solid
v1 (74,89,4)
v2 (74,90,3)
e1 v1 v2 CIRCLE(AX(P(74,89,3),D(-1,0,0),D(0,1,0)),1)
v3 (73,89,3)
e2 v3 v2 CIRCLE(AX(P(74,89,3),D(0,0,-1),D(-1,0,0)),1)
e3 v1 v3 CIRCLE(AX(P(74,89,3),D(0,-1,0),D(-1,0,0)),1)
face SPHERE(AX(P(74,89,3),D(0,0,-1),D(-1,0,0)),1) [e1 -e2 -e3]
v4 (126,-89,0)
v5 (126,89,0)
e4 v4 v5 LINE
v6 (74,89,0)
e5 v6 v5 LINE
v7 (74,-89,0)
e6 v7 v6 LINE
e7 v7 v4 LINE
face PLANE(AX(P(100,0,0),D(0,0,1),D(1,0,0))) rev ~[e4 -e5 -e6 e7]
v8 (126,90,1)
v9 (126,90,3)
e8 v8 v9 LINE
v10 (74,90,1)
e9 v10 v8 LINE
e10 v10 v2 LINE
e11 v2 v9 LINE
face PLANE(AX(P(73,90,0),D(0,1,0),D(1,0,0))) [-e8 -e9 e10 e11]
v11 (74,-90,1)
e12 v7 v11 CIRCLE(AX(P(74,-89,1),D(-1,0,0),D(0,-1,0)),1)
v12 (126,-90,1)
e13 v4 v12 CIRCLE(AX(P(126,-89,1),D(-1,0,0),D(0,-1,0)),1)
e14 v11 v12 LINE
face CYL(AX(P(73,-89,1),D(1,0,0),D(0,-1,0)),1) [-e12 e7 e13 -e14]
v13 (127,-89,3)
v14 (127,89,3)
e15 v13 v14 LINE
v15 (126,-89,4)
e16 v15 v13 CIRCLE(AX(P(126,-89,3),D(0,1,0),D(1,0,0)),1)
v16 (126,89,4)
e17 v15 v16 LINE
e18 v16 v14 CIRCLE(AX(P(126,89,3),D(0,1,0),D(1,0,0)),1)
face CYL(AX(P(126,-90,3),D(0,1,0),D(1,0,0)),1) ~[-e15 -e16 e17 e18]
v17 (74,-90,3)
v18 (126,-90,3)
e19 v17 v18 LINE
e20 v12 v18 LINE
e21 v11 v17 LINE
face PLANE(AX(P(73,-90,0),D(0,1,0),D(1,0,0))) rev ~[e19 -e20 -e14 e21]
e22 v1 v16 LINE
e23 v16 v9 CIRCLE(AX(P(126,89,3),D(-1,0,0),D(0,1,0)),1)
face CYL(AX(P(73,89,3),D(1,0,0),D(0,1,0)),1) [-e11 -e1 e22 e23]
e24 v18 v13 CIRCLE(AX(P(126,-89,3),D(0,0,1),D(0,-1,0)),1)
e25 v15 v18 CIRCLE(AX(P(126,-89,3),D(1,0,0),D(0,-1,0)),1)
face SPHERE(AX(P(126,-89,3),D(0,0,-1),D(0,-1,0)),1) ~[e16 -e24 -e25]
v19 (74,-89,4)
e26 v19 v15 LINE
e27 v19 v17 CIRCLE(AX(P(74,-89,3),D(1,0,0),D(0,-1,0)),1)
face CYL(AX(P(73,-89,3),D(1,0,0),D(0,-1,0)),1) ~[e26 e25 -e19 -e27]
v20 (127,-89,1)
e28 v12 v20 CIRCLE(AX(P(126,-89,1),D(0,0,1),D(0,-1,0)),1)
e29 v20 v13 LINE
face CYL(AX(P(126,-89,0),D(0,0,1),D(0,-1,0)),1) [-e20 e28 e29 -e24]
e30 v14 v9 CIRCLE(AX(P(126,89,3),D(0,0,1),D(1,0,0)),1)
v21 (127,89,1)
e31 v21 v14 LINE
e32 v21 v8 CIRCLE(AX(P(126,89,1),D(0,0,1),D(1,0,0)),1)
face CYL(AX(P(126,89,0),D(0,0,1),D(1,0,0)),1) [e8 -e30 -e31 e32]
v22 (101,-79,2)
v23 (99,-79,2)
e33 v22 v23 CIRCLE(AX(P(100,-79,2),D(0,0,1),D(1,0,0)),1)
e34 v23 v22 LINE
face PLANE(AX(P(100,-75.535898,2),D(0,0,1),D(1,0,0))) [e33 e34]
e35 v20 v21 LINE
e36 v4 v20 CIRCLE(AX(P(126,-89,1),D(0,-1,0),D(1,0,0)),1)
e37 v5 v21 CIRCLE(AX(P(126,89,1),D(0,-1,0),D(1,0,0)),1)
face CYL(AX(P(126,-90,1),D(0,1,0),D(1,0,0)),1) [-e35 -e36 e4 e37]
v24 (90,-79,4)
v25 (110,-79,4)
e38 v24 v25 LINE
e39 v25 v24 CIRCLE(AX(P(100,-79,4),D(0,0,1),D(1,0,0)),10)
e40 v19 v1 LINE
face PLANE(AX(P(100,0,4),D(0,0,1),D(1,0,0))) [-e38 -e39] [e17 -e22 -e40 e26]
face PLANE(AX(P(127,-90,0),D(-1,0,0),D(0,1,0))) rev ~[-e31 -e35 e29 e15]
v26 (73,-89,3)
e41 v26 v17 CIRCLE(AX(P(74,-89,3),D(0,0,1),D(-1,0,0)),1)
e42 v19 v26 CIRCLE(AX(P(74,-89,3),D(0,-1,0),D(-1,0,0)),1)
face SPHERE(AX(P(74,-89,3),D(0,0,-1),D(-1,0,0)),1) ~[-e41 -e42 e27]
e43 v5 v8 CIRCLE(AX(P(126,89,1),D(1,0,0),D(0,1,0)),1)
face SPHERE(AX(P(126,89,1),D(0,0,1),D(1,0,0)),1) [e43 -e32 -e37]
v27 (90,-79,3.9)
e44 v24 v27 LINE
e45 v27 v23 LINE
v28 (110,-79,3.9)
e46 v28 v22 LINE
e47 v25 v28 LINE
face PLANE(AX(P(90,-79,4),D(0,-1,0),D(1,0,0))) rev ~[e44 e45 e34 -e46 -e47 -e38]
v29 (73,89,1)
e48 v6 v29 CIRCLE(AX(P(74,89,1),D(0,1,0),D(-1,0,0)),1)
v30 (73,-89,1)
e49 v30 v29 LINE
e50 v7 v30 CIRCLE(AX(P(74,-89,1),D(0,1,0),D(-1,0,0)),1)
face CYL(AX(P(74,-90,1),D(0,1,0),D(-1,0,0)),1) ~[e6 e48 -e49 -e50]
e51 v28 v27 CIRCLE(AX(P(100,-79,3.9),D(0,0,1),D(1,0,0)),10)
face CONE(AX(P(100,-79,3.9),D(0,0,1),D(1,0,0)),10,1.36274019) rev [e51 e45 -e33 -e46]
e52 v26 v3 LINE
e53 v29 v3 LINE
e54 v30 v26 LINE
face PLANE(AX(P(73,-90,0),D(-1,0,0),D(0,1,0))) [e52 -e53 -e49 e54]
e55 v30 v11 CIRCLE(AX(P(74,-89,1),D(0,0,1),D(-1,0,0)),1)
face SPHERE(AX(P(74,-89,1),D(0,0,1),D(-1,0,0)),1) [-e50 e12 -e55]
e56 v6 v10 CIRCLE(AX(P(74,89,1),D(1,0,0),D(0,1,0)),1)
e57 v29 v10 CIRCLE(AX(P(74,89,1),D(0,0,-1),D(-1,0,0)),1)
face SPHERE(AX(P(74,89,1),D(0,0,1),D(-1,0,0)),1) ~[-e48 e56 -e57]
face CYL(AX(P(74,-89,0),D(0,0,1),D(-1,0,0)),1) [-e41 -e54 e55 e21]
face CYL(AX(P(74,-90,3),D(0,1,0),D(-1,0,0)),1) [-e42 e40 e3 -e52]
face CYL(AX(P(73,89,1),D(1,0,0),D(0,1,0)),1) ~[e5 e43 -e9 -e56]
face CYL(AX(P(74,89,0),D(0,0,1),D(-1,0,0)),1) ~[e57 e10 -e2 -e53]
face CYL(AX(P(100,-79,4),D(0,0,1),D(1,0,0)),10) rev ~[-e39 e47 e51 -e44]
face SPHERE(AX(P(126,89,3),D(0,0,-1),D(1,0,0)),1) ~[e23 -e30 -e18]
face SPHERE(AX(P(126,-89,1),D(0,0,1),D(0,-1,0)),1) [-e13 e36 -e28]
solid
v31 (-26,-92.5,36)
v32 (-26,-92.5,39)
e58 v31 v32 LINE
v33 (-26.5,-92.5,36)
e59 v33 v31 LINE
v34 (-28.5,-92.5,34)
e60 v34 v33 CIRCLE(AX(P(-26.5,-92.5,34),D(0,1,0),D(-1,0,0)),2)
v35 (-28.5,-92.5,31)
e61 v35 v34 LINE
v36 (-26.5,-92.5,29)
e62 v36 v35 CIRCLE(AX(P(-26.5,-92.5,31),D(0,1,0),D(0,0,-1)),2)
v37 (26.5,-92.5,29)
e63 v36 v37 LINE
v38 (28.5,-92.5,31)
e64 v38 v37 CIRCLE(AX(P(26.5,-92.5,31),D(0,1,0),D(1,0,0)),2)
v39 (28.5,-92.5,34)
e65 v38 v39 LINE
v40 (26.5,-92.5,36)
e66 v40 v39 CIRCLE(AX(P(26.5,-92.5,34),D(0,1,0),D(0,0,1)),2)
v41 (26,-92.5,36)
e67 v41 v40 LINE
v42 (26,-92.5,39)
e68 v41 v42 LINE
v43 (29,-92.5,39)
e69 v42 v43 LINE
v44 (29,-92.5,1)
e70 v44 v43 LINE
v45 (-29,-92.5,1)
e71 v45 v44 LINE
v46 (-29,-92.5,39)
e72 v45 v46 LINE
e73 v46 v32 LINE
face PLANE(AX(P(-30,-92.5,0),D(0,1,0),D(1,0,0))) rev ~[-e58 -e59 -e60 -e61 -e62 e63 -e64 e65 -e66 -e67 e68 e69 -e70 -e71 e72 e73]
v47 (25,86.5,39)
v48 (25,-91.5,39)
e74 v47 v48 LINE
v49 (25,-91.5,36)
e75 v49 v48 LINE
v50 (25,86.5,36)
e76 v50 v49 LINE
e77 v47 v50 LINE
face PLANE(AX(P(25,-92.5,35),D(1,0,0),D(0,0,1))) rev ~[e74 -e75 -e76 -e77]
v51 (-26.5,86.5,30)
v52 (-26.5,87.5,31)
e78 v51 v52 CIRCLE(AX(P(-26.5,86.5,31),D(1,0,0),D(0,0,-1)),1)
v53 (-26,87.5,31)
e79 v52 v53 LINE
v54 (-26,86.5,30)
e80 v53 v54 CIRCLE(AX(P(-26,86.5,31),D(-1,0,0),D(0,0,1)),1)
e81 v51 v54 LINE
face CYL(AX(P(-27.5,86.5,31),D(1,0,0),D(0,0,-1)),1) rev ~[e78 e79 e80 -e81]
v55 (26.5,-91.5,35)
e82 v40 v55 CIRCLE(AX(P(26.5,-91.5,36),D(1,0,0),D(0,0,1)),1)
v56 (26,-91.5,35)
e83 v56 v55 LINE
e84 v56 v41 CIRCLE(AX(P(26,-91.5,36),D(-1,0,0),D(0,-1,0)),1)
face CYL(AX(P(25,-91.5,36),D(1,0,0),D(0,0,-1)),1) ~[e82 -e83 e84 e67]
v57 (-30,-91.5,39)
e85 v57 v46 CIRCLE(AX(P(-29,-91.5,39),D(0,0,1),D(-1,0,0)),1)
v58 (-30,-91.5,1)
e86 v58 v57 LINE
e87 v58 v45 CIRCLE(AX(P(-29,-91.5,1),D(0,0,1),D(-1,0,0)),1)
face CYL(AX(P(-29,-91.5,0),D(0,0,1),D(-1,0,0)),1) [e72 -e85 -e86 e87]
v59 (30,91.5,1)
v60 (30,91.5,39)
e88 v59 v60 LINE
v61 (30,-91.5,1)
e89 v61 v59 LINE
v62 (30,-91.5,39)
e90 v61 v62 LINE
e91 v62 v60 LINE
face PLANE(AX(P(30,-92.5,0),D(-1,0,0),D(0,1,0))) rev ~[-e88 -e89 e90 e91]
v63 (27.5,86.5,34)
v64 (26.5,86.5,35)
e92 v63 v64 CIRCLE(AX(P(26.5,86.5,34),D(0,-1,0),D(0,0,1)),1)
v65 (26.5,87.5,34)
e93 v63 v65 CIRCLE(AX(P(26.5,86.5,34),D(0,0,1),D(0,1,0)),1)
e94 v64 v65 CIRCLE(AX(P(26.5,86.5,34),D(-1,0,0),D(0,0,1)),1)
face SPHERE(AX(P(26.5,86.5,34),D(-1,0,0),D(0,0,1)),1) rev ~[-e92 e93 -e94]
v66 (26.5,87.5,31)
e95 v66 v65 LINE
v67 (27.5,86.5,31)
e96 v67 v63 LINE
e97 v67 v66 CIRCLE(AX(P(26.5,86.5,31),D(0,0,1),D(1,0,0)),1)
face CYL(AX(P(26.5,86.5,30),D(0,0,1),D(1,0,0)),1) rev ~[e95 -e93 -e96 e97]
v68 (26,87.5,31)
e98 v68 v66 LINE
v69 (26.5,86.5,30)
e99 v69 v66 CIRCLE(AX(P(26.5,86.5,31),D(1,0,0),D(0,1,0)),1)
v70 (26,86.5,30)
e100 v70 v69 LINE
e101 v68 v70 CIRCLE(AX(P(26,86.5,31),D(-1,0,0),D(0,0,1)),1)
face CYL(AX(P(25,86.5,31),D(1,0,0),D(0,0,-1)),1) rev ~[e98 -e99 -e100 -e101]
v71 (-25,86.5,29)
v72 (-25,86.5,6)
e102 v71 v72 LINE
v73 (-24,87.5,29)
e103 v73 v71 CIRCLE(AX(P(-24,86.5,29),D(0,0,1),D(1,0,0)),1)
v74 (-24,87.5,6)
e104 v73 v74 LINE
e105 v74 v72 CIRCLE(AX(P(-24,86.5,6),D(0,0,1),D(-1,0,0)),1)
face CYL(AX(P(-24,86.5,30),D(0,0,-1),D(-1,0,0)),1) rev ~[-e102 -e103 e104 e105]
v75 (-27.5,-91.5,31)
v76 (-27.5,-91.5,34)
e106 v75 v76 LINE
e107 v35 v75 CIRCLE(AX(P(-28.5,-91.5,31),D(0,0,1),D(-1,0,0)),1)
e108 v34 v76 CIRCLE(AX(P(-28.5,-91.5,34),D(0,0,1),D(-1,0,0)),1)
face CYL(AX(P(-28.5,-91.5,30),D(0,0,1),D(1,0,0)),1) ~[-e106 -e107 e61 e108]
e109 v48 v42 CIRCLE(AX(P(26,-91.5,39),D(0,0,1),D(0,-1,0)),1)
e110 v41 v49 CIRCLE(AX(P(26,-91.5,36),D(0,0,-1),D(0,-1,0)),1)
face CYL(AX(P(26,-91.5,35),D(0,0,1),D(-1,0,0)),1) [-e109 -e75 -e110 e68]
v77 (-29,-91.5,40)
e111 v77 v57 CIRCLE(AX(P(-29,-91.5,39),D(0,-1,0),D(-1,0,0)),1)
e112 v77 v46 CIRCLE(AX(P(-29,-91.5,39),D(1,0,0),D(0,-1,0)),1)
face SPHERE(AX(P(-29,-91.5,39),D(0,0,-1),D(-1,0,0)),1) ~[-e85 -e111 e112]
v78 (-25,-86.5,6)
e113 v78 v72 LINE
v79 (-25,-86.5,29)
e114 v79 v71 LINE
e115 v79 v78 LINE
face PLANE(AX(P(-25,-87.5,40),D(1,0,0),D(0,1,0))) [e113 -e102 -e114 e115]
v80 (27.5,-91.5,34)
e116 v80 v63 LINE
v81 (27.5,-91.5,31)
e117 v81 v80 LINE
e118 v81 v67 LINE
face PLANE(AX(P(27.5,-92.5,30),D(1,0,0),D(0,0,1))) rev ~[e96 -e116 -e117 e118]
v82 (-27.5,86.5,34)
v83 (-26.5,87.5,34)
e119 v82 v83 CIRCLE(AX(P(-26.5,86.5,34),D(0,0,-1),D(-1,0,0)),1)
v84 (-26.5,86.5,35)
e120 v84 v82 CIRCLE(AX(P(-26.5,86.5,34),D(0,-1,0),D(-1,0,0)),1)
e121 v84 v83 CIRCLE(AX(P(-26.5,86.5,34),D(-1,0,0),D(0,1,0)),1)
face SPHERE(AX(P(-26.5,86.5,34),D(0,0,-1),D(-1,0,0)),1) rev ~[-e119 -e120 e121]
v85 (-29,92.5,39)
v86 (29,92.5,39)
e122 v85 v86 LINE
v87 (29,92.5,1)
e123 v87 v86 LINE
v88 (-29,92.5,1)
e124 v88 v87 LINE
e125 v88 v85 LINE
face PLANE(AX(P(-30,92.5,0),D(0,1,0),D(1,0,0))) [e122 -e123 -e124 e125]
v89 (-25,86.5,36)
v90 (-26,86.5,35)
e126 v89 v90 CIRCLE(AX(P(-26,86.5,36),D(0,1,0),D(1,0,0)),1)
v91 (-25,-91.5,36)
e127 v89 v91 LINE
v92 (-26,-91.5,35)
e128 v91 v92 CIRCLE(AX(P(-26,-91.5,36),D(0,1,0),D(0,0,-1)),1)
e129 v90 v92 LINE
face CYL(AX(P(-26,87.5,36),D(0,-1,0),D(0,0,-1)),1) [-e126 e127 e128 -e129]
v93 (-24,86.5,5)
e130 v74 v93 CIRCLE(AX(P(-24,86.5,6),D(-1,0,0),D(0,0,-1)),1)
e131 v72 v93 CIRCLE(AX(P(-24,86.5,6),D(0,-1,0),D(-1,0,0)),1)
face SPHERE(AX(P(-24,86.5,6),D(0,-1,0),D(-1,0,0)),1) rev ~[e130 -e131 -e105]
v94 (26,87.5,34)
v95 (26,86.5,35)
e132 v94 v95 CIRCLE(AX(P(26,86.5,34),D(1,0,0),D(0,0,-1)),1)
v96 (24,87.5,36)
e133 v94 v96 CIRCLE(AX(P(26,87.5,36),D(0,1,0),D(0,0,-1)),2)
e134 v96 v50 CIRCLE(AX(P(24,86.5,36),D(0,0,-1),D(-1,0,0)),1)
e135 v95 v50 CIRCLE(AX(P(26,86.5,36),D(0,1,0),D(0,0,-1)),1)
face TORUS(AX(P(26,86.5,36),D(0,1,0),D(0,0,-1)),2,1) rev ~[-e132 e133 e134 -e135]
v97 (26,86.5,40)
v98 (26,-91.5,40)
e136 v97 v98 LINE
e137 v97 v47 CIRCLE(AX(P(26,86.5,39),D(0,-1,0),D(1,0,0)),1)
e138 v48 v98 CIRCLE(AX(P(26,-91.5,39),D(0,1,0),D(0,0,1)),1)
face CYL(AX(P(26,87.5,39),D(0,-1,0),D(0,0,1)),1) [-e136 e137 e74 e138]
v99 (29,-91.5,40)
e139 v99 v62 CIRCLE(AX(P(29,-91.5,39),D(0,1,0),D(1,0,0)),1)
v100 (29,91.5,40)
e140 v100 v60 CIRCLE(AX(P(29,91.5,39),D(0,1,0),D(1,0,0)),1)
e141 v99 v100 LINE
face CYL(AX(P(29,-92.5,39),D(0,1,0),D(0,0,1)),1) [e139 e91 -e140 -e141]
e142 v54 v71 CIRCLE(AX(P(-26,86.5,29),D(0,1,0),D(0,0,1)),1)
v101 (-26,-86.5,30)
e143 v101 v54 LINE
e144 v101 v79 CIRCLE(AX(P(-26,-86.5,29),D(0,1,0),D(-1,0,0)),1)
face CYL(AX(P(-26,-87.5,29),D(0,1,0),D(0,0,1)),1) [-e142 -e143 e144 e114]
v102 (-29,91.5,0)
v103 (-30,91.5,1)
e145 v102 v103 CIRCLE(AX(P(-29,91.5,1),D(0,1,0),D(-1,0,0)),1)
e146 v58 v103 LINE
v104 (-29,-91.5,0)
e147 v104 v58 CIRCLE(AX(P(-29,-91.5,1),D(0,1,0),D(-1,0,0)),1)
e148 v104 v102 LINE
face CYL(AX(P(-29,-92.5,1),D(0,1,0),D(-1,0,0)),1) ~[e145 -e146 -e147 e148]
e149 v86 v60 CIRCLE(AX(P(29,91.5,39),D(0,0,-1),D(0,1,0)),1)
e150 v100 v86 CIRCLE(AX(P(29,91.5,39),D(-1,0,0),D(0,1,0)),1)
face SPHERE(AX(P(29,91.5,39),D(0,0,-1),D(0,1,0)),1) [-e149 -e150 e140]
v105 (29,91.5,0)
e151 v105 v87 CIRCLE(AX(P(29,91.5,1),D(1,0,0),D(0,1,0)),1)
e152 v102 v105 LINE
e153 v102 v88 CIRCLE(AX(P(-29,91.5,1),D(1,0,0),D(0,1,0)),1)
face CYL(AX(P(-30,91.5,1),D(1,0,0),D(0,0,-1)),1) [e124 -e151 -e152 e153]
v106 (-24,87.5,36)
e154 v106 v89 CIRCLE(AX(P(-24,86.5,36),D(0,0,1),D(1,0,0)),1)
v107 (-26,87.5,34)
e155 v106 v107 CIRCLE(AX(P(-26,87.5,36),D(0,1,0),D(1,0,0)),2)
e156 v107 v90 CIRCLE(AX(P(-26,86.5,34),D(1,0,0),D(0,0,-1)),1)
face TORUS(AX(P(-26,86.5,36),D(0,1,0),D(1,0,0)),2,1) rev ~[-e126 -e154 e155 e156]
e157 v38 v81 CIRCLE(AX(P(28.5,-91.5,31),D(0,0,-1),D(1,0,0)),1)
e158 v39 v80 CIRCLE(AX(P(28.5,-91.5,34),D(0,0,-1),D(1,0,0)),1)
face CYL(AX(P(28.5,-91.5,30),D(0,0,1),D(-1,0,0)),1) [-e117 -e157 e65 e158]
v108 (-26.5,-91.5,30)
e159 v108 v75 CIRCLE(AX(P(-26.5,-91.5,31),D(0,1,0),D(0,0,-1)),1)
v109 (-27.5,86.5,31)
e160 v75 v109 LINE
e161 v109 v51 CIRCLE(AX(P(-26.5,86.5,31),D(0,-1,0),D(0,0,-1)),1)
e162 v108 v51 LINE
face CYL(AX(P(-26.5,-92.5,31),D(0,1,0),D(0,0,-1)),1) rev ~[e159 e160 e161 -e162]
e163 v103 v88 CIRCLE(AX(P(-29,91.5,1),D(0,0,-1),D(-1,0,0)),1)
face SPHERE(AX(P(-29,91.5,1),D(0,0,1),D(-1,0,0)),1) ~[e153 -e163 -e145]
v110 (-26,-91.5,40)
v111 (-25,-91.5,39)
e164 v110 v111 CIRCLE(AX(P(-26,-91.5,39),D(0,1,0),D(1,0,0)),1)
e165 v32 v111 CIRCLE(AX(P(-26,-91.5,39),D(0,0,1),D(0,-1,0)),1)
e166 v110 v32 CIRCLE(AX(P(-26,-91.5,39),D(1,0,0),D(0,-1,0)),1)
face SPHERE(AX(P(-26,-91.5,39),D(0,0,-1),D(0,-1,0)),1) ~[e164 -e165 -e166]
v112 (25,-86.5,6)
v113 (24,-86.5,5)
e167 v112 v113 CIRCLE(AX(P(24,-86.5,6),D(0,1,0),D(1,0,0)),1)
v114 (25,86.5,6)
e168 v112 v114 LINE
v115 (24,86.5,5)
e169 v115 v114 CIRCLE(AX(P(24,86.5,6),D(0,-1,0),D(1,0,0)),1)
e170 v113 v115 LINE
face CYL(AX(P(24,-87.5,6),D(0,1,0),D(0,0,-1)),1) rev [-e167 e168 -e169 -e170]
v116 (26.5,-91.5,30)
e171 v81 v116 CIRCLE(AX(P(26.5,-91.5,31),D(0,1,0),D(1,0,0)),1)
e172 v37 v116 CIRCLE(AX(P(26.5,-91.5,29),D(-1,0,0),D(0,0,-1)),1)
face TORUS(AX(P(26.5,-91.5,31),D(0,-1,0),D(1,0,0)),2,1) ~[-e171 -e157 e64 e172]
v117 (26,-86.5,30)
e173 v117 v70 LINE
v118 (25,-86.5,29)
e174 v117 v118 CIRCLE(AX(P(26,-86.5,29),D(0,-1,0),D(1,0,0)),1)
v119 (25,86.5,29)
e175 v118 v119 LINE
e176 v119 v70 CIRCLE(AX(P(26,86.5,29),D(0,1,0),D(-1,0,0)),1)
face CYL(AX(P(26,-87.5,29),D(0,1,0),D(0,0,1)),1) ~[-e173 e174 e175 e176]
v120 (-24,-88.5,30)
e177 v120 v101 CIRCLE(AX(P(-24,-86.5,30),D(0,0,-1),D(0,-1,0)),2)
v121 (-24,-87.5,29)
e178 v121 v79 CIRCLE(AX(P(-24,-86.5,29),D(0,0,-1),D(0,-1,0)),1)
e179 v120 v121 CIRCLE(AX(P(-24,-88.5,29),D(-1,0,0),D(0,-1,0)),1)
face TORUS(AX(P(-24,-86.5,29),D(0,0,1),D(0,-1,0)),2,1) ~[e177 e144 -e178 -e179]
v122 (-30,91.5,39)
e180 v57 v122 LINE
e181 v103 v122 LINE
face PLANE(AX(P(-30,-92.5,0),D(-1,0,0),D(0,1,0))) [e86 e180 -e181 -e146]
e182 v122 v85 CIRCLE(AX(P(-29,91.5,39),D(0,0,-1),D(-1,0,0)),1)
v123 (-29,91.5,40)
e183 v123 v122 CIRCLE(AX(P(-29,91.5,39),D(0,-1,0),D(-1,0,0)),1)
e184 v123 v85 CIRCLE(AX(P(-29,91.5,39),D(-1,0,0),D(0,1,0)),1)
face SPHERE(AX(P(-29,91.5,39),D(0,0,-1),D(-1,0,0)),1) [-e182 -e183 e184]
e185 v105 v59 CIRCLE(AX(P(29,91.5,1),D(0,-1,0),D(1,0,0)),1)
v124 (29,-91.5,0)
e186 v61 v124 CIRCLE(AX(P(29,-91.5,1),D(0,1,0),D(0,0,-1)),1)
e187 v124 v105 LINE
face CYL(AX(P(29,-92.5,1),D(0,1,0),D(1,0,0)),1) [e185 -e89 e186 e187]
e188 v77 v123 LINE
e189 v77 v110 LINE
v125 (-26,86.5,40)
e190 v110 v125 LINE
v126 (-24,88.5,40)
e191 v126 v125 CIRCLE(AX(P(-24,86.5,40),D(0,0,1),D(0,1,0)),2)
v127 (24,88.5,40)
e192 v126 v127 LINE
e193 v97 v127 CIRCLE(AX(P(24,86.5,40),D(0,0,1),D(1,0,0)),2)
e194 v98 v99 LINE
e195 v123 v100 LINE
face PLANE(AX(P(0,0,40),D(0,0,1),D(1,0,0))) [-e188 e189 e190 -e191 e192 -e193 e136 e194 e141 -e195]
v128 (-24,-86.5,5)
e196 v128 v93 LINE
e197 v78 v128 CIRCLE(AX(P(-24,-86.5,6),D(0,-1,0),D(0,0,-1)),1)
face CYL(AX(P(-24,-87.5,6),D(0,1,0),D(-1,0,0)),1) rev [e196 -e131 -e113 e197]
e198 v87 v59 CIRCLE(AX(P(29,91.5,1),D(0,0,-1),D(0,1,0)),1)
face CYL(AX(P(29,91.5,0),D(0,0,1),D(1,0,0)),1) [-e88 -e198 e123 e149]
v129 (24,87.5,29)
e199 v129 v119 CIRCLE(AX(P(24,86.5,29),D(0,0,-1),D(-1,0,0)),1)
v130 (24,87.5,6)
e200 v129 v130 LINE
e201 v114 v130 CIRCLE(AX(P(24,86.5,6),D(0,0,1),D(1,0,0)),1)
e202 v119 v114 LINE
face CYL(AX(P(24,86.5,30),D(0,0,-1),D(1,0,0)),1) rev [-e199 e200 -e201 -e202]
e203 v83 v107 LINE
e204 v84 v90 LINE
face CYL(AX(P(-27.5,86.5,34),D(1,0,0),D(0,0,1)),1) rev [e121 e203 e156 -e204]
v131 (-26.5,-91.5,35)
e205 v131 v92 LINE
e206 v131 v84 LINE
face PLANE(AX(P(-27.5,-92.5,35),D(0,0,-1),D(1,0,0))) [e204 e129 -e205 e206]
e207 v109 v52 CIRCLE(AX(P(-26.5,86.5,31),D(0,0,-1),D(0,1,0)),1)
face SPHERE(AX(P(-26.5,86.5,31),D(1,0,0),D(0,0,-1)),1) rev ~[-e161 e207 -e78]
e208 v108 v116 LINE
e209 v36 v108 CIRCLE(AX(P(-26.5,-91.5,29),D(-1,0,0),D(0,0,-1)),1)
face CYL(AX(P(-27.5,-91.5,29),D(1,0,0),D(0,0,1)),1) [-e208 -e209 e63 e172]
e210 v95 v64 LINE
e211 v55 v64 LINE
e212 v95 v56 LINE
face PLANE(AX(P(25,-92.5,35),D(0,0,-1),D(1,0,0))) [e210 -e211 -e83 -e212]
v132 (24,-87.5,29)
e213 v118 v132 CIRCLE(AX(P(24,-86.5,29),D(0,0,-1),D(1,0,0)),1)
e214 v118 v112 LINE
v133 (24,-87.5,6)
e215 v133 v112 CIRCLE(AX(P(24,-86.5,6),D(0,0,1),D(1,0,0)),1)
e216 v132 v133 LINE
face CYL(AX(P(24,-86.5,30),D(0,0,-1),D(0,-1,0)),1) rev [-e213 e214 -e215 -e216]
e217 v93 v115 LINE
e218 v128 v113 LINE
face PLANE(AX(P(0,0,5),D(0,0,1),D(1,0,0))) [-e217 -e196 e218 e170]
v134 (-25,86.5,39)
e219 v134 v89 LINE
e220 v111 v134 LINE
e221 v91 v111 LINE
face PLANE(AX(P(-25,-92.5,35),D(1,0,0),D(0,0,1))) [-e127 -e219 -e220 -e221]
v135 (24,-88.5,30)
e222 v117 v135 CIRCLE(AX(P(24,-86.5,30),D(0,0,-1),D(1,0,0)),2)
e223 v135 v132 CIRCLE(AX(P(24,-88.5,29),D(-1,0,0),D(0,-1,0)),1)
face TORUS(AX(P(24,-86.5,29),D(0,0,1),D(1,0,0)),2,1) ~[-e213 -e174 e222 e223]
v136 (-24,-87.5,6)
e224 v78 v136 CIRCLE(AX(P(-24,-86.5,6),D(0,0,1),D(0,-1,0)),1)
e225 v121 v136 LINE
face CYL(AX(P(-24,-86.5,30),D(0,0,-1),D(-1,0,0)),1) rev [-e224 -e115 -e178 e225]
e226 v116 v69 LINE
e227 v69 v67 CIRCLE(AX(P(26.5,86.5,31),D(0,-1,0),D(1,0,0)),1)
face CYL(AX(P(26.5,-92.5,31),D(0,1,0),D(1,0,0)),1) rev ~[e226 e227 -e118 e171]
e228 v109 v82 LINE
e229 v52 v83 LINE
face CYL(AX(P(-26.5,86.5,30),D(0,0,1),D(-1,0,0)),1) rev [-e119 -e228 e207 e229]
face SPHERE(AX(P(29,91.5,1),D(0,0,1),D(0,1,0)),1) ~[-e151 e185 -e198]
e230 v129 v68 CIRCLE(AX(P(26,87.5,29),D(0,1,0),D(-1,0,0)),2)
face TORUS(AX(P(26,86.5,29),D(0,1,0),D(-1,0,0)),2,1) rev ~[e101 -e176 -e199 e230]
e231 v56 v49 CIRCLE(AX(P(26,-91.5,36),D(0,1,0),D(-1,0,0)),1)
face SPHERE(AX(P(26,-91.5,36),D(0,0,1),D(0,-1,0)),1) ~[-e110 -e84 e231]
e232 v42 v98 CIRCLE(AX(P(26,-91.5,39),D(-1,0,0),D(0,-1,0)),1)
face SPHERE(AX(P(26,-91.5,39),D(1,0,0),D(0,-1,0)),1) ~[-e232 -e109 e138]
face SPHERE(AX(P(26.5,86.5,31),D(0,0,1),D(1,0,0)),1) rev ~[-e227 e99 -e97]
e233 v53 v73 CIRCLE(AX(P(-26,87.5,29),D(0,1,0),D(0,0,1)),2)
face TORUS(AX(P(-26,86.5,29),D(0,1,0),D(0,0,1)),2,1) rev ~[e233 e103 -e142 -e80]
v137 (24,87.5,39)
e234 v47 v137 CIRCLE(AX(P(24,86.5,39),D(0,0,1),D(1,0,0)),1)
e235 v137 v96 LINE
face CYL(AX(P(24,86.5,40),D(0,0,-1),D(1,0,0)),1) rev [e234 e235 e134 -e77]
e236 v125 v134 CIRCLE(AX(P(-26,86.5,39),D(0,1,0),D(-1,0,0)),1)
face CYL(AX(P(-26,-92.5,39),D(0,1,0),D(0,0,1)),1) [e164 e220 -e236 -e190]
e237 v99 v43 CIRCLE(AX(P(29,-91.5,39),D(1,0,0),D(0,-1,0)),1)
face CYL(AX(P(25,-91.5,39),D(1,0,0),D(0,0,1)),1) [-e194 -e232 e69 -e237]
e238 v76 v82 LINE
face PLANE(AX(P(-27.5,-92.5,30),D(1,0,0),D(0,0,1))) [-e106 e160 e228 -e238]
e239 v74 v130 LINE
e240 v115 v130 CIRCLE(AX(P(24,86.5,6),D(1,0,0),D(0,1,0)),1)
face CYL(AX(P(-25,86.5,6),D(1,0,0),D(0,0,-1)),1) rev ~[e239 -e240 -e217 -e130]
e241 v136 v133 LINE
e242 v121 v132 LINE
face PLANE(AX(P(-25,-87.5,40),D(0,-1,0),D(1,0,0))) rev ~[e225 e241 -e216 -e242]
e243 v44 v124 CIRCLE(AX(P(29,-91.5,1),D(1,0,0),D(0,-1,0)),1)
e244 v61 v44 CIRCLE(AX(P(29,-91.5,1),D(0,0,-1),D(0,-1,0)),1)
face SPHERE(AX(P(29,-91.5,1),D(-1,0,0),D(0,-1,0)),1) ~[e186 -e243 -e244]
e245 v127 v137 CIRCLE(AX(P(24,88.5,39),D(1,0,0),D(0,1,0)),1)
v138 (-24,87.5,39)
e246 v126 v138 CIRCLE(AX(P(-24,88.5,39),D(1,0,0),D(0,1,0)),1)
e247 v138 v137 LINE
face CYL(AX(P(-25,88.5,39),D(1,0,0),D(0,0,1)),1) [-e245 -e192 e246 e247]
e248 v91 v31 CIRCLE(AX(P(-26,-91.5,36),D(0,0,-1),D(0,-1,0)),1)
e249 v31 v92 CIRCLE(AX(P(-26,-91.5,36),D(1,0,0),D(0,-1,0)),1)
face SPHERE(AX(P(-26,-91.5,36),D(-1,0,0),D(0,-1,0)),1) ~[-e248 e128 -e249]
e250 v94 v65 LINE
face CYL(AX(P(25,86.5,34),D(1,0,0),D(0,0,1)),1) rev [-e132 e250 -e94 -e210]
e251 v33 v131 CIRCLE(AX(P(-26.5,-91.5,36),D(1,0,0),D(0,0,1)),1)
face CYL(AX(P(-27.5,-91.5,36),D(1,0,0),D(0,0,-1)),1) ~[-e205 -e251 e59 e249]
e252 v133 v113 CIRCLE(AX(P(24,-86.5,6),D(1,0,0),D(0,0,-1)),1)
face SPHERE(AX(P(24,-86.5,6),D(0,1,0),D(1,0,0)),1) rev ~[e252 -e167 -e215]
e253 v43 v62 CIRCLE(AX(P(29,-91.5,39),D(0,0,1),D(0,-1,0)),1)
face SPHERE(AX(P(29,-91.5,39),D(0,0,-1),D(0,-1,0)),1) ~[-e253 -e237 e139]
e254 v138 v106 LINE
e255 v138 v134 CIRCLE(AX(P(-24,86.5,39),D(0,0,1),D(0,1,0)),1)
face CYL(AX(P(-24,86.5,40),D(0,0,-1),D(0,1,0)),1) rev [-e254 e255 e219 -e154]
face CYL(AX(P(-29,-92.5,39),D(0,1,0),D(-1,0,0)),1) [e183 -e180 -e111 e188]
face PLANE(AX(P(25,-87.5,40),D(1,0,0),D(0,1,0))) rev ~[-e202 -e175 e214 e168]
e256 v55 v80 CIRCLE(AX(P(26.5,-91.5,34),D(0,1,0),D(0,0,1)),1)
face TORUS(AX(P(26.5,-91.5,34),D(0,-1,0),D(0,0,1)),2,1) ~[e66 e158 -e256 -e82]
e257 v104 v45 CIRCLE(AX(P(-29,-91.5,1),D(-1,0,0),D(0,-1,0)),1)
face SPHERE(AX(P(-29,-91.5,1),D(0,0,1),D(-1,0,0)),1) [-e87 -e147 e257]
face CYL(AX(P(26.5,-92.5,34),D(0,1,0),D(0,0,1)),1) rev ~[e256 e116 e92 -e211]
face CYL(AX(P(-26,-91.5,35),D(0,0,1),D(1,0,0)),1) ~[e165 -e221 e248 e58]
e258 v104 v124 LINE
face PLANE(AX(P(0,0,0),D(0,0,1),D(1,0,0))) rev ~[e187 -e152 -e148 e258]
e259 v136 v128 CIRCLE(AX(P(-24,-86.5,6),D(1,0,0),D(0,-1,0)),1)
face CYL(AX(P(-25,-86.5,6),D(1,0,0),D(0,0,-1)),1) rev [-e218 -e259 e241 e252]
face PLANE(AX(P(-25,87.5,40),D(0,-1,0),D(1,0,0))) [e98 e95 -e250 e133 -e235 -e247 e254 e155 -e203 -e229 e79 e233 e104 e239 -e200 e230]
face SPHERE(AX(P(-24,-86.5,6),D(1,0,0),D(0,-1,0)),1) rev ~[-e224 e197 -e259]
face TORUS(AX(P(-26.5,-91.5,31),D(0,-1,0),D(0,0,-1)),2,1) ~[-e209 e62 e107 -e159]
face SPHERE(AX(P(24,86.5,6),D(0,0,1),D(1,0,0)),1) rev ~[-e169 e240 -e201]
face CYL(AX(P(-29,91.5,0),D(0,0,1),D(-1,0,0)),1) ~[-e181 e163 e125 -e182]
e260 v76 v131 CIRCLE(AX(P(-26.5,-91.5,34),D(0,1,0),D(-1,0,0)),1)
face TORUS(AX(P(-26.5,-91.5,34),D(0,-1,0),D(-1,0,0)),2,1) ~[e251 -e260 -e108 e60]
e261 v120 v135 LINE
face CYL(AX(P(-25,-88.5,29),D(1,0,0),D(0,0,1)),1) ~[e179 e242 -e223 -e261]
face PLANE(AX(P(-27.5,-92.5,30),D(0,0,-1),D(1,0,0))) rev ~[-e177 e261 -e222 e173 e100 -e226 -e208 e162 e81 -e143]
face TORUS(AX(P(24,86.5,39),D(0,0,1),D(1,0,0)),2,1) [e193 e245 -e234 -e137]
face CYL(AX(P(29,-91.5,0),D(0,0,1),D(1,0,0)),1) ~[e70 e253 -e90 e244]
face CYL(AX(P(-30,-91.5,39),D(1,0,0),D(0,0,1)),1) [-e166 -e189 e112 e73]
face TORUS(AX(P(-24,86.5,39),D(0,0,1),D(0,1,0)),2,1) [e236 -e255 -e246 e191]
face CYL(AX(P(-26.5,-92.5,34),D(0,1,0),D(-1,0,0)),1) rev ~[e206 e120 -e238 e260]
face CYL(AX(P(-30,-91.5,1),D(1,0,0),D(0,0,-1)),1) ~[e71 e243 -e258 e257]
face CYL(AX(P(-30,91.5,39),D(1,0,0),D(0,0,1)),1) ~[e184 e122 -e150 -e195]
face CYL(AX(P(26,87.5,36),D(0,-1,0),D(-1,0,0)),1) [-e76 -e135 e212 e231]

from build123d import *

# Parameters (mm, degrees)
SKETCH001_W     = 60
SKETCH001_H     = 185
PAD_DEPTH       = 40
SKETCH_W        = 50
SKETCH_H        = 175
POCKET_DEPTH    = 35
SKETCH008_W     = 50
SKETCH008_H     = 5
SKETCH008_W_2   = 55
POCKET005_DEPTH = 180
FILLET_R        = 1
SKETCH004_W     = 54
SKETCH004_H     = 180
PAD001_DEPTH    = 4
FILLET001_R     = 1
POCKET006_DEPTH = 2
CHAMFER_SIZE2   = 9
CHAMFER_SIZE    = 1.9


with BuildPart() as box:
    # Sketch001 → Pad (new body)
    with BuildSketch(Plane.XY):
        Rectangle(SKETCH001_W, SKETCH001_H)
    extrude(amount=PAD_DEPTH)

    # Sketch (on Face6 of Pad) → Pocket (cut)
    with BuildSketch(Plane.XY.offset(40)):
        Rectangle(SKETCH_W, SKETCH_H)
    extrude(amount=-POCKET_DEPTH, mode=Mode.SUBTRACT)

    # Sketch008 (on Face3 of Pocket) → Pocket005 (cut)
    with BuildSketch(Plane.XZ.offset(92.5)):
        with Locations((0, 37.5)):
            Rectangle(SKETCH008_W, SKETCH008_H)
        with Locations((0, 32.5)):
            Rectangle(SKETCH008_W_2, SKETCH008_H)
    extrude(amount=-POCKET005_DEPTH, mode=Mode.SUBTRACT)

    # Fillet
    fillet_edges = [box.edges().sort_by_distance(p)[0] for p in [
        (-30, 92.5, 20),
        (-30, -92.5, 20),
        (-30, 0, 0),
        (-30, 0, 40),
        (30, 92.5, 20),
        (0, 92.5, 0),
        (0, 92.5, 40),
        (0, -92.5, 0),
        (30, -92.5, 20),
        (27.5, -92.5, 40),
        (25, -92.5, 37.5),
        (26.25, -92.5, 35),
        (27.5, -92.5, 32.5),
        (0, -92.5, 30),
        (-27.5, -92.5, 32.5),
        (-26.25, -92.5, 35),
        (-25, -92.5, 37.5),
        (-27.5, -92.5, 40),
        (30, 0, 0),
        (30, 0, 40),
        (25, -2.5, 40),
        (0, 87.5, 40),
        (-25, -2.5, 40),
        (25, -2.5, 35),
        (26.25, 87.5, 35),
        (27.5, -2.5, 35),
        (27.5, 87.5, 32.5),
        (27.5, -2.5, 30),
        (26.25, 87.5, 30),
        (25, 0, 30),
        (0, -87.5, 30),
        (-25, 0, 30),
        (-26.25, 87.5, 30),
        (-27.5, -2.5, 30),
        (-27.5, 87.5, 32.5),
        (-27.5, -2.5, 35),
        (-26.25, 87.5, 35),
        (-25, -2.5, 35),
        (25, 87.5, 17.5),
        (25, 0, 5),
        (25, -87.5, 17.5),
        (0, -87.5, 5),
        (-25, -87.5, 17.5),
        (-25, 0, 5),
        (-25, 87.5, 17.5),
        (0, 87.5, 5),
        (25, 87.5, 37.5),
        (-25, 87.5, 37.5),
    ]]
    fillet(fillet_edges, radius=FILLET_R)


with BuildPart() as lid:
    # Sketch004 → Pad001 (new body)
    with BuildSketch(Plane.XY):
        with Locations((100, 0)):
            Rectangle(SKETCH004_W, SKETCH004_H)
    extrude(amount=PAD001_DEPTH)

    # Fillet001
    fillet001_edges = [lid.edges().sort_by_distance(p)[0] for p in [
        (73, 90, 2),
        (73, -90, 2),
        (73, 0, 0),
        (73, 0, 4),
        (127, -90, 2),
        (100, -90, 0),
        (100, -90, 4),
        (127, 90, 2),
        (127, 0, 0),
        (127, 0, 4),
        (100, 90, 0),
        (100, 90, 4),
    ]]
    fillet(fillet001_edges, radius=FILLET001_R)

    # Sketch009 (on Face11 of Fillet001) → Pocket006 (cut)
    with BuildSketch(Plane.XY.offset(4)):
        with BuildLine():
            ThreePointArc((110, -79), (100, -69), (90, -79))
            Line((90, -79), (110, -79))
        make_face()
    extrude(amount=-POCKET006_DEPTH, mode=Mode.SUBTRACT)

    # Chamfer
    chamfer_edges = [lid.edges().sort_by_distance(p)[0] for p in [
        (100, -69, 2),
    ]]
    chamfer_side = lid.faces().sort_by_distance((100, -69, 3))[0]
    chamfer(chamfer_edges, length=CHAMFER_SIZE, length2=CHAMFER_SIZE2, reference=chamfer_side)


solid = Compound([box.part, lid.part])
